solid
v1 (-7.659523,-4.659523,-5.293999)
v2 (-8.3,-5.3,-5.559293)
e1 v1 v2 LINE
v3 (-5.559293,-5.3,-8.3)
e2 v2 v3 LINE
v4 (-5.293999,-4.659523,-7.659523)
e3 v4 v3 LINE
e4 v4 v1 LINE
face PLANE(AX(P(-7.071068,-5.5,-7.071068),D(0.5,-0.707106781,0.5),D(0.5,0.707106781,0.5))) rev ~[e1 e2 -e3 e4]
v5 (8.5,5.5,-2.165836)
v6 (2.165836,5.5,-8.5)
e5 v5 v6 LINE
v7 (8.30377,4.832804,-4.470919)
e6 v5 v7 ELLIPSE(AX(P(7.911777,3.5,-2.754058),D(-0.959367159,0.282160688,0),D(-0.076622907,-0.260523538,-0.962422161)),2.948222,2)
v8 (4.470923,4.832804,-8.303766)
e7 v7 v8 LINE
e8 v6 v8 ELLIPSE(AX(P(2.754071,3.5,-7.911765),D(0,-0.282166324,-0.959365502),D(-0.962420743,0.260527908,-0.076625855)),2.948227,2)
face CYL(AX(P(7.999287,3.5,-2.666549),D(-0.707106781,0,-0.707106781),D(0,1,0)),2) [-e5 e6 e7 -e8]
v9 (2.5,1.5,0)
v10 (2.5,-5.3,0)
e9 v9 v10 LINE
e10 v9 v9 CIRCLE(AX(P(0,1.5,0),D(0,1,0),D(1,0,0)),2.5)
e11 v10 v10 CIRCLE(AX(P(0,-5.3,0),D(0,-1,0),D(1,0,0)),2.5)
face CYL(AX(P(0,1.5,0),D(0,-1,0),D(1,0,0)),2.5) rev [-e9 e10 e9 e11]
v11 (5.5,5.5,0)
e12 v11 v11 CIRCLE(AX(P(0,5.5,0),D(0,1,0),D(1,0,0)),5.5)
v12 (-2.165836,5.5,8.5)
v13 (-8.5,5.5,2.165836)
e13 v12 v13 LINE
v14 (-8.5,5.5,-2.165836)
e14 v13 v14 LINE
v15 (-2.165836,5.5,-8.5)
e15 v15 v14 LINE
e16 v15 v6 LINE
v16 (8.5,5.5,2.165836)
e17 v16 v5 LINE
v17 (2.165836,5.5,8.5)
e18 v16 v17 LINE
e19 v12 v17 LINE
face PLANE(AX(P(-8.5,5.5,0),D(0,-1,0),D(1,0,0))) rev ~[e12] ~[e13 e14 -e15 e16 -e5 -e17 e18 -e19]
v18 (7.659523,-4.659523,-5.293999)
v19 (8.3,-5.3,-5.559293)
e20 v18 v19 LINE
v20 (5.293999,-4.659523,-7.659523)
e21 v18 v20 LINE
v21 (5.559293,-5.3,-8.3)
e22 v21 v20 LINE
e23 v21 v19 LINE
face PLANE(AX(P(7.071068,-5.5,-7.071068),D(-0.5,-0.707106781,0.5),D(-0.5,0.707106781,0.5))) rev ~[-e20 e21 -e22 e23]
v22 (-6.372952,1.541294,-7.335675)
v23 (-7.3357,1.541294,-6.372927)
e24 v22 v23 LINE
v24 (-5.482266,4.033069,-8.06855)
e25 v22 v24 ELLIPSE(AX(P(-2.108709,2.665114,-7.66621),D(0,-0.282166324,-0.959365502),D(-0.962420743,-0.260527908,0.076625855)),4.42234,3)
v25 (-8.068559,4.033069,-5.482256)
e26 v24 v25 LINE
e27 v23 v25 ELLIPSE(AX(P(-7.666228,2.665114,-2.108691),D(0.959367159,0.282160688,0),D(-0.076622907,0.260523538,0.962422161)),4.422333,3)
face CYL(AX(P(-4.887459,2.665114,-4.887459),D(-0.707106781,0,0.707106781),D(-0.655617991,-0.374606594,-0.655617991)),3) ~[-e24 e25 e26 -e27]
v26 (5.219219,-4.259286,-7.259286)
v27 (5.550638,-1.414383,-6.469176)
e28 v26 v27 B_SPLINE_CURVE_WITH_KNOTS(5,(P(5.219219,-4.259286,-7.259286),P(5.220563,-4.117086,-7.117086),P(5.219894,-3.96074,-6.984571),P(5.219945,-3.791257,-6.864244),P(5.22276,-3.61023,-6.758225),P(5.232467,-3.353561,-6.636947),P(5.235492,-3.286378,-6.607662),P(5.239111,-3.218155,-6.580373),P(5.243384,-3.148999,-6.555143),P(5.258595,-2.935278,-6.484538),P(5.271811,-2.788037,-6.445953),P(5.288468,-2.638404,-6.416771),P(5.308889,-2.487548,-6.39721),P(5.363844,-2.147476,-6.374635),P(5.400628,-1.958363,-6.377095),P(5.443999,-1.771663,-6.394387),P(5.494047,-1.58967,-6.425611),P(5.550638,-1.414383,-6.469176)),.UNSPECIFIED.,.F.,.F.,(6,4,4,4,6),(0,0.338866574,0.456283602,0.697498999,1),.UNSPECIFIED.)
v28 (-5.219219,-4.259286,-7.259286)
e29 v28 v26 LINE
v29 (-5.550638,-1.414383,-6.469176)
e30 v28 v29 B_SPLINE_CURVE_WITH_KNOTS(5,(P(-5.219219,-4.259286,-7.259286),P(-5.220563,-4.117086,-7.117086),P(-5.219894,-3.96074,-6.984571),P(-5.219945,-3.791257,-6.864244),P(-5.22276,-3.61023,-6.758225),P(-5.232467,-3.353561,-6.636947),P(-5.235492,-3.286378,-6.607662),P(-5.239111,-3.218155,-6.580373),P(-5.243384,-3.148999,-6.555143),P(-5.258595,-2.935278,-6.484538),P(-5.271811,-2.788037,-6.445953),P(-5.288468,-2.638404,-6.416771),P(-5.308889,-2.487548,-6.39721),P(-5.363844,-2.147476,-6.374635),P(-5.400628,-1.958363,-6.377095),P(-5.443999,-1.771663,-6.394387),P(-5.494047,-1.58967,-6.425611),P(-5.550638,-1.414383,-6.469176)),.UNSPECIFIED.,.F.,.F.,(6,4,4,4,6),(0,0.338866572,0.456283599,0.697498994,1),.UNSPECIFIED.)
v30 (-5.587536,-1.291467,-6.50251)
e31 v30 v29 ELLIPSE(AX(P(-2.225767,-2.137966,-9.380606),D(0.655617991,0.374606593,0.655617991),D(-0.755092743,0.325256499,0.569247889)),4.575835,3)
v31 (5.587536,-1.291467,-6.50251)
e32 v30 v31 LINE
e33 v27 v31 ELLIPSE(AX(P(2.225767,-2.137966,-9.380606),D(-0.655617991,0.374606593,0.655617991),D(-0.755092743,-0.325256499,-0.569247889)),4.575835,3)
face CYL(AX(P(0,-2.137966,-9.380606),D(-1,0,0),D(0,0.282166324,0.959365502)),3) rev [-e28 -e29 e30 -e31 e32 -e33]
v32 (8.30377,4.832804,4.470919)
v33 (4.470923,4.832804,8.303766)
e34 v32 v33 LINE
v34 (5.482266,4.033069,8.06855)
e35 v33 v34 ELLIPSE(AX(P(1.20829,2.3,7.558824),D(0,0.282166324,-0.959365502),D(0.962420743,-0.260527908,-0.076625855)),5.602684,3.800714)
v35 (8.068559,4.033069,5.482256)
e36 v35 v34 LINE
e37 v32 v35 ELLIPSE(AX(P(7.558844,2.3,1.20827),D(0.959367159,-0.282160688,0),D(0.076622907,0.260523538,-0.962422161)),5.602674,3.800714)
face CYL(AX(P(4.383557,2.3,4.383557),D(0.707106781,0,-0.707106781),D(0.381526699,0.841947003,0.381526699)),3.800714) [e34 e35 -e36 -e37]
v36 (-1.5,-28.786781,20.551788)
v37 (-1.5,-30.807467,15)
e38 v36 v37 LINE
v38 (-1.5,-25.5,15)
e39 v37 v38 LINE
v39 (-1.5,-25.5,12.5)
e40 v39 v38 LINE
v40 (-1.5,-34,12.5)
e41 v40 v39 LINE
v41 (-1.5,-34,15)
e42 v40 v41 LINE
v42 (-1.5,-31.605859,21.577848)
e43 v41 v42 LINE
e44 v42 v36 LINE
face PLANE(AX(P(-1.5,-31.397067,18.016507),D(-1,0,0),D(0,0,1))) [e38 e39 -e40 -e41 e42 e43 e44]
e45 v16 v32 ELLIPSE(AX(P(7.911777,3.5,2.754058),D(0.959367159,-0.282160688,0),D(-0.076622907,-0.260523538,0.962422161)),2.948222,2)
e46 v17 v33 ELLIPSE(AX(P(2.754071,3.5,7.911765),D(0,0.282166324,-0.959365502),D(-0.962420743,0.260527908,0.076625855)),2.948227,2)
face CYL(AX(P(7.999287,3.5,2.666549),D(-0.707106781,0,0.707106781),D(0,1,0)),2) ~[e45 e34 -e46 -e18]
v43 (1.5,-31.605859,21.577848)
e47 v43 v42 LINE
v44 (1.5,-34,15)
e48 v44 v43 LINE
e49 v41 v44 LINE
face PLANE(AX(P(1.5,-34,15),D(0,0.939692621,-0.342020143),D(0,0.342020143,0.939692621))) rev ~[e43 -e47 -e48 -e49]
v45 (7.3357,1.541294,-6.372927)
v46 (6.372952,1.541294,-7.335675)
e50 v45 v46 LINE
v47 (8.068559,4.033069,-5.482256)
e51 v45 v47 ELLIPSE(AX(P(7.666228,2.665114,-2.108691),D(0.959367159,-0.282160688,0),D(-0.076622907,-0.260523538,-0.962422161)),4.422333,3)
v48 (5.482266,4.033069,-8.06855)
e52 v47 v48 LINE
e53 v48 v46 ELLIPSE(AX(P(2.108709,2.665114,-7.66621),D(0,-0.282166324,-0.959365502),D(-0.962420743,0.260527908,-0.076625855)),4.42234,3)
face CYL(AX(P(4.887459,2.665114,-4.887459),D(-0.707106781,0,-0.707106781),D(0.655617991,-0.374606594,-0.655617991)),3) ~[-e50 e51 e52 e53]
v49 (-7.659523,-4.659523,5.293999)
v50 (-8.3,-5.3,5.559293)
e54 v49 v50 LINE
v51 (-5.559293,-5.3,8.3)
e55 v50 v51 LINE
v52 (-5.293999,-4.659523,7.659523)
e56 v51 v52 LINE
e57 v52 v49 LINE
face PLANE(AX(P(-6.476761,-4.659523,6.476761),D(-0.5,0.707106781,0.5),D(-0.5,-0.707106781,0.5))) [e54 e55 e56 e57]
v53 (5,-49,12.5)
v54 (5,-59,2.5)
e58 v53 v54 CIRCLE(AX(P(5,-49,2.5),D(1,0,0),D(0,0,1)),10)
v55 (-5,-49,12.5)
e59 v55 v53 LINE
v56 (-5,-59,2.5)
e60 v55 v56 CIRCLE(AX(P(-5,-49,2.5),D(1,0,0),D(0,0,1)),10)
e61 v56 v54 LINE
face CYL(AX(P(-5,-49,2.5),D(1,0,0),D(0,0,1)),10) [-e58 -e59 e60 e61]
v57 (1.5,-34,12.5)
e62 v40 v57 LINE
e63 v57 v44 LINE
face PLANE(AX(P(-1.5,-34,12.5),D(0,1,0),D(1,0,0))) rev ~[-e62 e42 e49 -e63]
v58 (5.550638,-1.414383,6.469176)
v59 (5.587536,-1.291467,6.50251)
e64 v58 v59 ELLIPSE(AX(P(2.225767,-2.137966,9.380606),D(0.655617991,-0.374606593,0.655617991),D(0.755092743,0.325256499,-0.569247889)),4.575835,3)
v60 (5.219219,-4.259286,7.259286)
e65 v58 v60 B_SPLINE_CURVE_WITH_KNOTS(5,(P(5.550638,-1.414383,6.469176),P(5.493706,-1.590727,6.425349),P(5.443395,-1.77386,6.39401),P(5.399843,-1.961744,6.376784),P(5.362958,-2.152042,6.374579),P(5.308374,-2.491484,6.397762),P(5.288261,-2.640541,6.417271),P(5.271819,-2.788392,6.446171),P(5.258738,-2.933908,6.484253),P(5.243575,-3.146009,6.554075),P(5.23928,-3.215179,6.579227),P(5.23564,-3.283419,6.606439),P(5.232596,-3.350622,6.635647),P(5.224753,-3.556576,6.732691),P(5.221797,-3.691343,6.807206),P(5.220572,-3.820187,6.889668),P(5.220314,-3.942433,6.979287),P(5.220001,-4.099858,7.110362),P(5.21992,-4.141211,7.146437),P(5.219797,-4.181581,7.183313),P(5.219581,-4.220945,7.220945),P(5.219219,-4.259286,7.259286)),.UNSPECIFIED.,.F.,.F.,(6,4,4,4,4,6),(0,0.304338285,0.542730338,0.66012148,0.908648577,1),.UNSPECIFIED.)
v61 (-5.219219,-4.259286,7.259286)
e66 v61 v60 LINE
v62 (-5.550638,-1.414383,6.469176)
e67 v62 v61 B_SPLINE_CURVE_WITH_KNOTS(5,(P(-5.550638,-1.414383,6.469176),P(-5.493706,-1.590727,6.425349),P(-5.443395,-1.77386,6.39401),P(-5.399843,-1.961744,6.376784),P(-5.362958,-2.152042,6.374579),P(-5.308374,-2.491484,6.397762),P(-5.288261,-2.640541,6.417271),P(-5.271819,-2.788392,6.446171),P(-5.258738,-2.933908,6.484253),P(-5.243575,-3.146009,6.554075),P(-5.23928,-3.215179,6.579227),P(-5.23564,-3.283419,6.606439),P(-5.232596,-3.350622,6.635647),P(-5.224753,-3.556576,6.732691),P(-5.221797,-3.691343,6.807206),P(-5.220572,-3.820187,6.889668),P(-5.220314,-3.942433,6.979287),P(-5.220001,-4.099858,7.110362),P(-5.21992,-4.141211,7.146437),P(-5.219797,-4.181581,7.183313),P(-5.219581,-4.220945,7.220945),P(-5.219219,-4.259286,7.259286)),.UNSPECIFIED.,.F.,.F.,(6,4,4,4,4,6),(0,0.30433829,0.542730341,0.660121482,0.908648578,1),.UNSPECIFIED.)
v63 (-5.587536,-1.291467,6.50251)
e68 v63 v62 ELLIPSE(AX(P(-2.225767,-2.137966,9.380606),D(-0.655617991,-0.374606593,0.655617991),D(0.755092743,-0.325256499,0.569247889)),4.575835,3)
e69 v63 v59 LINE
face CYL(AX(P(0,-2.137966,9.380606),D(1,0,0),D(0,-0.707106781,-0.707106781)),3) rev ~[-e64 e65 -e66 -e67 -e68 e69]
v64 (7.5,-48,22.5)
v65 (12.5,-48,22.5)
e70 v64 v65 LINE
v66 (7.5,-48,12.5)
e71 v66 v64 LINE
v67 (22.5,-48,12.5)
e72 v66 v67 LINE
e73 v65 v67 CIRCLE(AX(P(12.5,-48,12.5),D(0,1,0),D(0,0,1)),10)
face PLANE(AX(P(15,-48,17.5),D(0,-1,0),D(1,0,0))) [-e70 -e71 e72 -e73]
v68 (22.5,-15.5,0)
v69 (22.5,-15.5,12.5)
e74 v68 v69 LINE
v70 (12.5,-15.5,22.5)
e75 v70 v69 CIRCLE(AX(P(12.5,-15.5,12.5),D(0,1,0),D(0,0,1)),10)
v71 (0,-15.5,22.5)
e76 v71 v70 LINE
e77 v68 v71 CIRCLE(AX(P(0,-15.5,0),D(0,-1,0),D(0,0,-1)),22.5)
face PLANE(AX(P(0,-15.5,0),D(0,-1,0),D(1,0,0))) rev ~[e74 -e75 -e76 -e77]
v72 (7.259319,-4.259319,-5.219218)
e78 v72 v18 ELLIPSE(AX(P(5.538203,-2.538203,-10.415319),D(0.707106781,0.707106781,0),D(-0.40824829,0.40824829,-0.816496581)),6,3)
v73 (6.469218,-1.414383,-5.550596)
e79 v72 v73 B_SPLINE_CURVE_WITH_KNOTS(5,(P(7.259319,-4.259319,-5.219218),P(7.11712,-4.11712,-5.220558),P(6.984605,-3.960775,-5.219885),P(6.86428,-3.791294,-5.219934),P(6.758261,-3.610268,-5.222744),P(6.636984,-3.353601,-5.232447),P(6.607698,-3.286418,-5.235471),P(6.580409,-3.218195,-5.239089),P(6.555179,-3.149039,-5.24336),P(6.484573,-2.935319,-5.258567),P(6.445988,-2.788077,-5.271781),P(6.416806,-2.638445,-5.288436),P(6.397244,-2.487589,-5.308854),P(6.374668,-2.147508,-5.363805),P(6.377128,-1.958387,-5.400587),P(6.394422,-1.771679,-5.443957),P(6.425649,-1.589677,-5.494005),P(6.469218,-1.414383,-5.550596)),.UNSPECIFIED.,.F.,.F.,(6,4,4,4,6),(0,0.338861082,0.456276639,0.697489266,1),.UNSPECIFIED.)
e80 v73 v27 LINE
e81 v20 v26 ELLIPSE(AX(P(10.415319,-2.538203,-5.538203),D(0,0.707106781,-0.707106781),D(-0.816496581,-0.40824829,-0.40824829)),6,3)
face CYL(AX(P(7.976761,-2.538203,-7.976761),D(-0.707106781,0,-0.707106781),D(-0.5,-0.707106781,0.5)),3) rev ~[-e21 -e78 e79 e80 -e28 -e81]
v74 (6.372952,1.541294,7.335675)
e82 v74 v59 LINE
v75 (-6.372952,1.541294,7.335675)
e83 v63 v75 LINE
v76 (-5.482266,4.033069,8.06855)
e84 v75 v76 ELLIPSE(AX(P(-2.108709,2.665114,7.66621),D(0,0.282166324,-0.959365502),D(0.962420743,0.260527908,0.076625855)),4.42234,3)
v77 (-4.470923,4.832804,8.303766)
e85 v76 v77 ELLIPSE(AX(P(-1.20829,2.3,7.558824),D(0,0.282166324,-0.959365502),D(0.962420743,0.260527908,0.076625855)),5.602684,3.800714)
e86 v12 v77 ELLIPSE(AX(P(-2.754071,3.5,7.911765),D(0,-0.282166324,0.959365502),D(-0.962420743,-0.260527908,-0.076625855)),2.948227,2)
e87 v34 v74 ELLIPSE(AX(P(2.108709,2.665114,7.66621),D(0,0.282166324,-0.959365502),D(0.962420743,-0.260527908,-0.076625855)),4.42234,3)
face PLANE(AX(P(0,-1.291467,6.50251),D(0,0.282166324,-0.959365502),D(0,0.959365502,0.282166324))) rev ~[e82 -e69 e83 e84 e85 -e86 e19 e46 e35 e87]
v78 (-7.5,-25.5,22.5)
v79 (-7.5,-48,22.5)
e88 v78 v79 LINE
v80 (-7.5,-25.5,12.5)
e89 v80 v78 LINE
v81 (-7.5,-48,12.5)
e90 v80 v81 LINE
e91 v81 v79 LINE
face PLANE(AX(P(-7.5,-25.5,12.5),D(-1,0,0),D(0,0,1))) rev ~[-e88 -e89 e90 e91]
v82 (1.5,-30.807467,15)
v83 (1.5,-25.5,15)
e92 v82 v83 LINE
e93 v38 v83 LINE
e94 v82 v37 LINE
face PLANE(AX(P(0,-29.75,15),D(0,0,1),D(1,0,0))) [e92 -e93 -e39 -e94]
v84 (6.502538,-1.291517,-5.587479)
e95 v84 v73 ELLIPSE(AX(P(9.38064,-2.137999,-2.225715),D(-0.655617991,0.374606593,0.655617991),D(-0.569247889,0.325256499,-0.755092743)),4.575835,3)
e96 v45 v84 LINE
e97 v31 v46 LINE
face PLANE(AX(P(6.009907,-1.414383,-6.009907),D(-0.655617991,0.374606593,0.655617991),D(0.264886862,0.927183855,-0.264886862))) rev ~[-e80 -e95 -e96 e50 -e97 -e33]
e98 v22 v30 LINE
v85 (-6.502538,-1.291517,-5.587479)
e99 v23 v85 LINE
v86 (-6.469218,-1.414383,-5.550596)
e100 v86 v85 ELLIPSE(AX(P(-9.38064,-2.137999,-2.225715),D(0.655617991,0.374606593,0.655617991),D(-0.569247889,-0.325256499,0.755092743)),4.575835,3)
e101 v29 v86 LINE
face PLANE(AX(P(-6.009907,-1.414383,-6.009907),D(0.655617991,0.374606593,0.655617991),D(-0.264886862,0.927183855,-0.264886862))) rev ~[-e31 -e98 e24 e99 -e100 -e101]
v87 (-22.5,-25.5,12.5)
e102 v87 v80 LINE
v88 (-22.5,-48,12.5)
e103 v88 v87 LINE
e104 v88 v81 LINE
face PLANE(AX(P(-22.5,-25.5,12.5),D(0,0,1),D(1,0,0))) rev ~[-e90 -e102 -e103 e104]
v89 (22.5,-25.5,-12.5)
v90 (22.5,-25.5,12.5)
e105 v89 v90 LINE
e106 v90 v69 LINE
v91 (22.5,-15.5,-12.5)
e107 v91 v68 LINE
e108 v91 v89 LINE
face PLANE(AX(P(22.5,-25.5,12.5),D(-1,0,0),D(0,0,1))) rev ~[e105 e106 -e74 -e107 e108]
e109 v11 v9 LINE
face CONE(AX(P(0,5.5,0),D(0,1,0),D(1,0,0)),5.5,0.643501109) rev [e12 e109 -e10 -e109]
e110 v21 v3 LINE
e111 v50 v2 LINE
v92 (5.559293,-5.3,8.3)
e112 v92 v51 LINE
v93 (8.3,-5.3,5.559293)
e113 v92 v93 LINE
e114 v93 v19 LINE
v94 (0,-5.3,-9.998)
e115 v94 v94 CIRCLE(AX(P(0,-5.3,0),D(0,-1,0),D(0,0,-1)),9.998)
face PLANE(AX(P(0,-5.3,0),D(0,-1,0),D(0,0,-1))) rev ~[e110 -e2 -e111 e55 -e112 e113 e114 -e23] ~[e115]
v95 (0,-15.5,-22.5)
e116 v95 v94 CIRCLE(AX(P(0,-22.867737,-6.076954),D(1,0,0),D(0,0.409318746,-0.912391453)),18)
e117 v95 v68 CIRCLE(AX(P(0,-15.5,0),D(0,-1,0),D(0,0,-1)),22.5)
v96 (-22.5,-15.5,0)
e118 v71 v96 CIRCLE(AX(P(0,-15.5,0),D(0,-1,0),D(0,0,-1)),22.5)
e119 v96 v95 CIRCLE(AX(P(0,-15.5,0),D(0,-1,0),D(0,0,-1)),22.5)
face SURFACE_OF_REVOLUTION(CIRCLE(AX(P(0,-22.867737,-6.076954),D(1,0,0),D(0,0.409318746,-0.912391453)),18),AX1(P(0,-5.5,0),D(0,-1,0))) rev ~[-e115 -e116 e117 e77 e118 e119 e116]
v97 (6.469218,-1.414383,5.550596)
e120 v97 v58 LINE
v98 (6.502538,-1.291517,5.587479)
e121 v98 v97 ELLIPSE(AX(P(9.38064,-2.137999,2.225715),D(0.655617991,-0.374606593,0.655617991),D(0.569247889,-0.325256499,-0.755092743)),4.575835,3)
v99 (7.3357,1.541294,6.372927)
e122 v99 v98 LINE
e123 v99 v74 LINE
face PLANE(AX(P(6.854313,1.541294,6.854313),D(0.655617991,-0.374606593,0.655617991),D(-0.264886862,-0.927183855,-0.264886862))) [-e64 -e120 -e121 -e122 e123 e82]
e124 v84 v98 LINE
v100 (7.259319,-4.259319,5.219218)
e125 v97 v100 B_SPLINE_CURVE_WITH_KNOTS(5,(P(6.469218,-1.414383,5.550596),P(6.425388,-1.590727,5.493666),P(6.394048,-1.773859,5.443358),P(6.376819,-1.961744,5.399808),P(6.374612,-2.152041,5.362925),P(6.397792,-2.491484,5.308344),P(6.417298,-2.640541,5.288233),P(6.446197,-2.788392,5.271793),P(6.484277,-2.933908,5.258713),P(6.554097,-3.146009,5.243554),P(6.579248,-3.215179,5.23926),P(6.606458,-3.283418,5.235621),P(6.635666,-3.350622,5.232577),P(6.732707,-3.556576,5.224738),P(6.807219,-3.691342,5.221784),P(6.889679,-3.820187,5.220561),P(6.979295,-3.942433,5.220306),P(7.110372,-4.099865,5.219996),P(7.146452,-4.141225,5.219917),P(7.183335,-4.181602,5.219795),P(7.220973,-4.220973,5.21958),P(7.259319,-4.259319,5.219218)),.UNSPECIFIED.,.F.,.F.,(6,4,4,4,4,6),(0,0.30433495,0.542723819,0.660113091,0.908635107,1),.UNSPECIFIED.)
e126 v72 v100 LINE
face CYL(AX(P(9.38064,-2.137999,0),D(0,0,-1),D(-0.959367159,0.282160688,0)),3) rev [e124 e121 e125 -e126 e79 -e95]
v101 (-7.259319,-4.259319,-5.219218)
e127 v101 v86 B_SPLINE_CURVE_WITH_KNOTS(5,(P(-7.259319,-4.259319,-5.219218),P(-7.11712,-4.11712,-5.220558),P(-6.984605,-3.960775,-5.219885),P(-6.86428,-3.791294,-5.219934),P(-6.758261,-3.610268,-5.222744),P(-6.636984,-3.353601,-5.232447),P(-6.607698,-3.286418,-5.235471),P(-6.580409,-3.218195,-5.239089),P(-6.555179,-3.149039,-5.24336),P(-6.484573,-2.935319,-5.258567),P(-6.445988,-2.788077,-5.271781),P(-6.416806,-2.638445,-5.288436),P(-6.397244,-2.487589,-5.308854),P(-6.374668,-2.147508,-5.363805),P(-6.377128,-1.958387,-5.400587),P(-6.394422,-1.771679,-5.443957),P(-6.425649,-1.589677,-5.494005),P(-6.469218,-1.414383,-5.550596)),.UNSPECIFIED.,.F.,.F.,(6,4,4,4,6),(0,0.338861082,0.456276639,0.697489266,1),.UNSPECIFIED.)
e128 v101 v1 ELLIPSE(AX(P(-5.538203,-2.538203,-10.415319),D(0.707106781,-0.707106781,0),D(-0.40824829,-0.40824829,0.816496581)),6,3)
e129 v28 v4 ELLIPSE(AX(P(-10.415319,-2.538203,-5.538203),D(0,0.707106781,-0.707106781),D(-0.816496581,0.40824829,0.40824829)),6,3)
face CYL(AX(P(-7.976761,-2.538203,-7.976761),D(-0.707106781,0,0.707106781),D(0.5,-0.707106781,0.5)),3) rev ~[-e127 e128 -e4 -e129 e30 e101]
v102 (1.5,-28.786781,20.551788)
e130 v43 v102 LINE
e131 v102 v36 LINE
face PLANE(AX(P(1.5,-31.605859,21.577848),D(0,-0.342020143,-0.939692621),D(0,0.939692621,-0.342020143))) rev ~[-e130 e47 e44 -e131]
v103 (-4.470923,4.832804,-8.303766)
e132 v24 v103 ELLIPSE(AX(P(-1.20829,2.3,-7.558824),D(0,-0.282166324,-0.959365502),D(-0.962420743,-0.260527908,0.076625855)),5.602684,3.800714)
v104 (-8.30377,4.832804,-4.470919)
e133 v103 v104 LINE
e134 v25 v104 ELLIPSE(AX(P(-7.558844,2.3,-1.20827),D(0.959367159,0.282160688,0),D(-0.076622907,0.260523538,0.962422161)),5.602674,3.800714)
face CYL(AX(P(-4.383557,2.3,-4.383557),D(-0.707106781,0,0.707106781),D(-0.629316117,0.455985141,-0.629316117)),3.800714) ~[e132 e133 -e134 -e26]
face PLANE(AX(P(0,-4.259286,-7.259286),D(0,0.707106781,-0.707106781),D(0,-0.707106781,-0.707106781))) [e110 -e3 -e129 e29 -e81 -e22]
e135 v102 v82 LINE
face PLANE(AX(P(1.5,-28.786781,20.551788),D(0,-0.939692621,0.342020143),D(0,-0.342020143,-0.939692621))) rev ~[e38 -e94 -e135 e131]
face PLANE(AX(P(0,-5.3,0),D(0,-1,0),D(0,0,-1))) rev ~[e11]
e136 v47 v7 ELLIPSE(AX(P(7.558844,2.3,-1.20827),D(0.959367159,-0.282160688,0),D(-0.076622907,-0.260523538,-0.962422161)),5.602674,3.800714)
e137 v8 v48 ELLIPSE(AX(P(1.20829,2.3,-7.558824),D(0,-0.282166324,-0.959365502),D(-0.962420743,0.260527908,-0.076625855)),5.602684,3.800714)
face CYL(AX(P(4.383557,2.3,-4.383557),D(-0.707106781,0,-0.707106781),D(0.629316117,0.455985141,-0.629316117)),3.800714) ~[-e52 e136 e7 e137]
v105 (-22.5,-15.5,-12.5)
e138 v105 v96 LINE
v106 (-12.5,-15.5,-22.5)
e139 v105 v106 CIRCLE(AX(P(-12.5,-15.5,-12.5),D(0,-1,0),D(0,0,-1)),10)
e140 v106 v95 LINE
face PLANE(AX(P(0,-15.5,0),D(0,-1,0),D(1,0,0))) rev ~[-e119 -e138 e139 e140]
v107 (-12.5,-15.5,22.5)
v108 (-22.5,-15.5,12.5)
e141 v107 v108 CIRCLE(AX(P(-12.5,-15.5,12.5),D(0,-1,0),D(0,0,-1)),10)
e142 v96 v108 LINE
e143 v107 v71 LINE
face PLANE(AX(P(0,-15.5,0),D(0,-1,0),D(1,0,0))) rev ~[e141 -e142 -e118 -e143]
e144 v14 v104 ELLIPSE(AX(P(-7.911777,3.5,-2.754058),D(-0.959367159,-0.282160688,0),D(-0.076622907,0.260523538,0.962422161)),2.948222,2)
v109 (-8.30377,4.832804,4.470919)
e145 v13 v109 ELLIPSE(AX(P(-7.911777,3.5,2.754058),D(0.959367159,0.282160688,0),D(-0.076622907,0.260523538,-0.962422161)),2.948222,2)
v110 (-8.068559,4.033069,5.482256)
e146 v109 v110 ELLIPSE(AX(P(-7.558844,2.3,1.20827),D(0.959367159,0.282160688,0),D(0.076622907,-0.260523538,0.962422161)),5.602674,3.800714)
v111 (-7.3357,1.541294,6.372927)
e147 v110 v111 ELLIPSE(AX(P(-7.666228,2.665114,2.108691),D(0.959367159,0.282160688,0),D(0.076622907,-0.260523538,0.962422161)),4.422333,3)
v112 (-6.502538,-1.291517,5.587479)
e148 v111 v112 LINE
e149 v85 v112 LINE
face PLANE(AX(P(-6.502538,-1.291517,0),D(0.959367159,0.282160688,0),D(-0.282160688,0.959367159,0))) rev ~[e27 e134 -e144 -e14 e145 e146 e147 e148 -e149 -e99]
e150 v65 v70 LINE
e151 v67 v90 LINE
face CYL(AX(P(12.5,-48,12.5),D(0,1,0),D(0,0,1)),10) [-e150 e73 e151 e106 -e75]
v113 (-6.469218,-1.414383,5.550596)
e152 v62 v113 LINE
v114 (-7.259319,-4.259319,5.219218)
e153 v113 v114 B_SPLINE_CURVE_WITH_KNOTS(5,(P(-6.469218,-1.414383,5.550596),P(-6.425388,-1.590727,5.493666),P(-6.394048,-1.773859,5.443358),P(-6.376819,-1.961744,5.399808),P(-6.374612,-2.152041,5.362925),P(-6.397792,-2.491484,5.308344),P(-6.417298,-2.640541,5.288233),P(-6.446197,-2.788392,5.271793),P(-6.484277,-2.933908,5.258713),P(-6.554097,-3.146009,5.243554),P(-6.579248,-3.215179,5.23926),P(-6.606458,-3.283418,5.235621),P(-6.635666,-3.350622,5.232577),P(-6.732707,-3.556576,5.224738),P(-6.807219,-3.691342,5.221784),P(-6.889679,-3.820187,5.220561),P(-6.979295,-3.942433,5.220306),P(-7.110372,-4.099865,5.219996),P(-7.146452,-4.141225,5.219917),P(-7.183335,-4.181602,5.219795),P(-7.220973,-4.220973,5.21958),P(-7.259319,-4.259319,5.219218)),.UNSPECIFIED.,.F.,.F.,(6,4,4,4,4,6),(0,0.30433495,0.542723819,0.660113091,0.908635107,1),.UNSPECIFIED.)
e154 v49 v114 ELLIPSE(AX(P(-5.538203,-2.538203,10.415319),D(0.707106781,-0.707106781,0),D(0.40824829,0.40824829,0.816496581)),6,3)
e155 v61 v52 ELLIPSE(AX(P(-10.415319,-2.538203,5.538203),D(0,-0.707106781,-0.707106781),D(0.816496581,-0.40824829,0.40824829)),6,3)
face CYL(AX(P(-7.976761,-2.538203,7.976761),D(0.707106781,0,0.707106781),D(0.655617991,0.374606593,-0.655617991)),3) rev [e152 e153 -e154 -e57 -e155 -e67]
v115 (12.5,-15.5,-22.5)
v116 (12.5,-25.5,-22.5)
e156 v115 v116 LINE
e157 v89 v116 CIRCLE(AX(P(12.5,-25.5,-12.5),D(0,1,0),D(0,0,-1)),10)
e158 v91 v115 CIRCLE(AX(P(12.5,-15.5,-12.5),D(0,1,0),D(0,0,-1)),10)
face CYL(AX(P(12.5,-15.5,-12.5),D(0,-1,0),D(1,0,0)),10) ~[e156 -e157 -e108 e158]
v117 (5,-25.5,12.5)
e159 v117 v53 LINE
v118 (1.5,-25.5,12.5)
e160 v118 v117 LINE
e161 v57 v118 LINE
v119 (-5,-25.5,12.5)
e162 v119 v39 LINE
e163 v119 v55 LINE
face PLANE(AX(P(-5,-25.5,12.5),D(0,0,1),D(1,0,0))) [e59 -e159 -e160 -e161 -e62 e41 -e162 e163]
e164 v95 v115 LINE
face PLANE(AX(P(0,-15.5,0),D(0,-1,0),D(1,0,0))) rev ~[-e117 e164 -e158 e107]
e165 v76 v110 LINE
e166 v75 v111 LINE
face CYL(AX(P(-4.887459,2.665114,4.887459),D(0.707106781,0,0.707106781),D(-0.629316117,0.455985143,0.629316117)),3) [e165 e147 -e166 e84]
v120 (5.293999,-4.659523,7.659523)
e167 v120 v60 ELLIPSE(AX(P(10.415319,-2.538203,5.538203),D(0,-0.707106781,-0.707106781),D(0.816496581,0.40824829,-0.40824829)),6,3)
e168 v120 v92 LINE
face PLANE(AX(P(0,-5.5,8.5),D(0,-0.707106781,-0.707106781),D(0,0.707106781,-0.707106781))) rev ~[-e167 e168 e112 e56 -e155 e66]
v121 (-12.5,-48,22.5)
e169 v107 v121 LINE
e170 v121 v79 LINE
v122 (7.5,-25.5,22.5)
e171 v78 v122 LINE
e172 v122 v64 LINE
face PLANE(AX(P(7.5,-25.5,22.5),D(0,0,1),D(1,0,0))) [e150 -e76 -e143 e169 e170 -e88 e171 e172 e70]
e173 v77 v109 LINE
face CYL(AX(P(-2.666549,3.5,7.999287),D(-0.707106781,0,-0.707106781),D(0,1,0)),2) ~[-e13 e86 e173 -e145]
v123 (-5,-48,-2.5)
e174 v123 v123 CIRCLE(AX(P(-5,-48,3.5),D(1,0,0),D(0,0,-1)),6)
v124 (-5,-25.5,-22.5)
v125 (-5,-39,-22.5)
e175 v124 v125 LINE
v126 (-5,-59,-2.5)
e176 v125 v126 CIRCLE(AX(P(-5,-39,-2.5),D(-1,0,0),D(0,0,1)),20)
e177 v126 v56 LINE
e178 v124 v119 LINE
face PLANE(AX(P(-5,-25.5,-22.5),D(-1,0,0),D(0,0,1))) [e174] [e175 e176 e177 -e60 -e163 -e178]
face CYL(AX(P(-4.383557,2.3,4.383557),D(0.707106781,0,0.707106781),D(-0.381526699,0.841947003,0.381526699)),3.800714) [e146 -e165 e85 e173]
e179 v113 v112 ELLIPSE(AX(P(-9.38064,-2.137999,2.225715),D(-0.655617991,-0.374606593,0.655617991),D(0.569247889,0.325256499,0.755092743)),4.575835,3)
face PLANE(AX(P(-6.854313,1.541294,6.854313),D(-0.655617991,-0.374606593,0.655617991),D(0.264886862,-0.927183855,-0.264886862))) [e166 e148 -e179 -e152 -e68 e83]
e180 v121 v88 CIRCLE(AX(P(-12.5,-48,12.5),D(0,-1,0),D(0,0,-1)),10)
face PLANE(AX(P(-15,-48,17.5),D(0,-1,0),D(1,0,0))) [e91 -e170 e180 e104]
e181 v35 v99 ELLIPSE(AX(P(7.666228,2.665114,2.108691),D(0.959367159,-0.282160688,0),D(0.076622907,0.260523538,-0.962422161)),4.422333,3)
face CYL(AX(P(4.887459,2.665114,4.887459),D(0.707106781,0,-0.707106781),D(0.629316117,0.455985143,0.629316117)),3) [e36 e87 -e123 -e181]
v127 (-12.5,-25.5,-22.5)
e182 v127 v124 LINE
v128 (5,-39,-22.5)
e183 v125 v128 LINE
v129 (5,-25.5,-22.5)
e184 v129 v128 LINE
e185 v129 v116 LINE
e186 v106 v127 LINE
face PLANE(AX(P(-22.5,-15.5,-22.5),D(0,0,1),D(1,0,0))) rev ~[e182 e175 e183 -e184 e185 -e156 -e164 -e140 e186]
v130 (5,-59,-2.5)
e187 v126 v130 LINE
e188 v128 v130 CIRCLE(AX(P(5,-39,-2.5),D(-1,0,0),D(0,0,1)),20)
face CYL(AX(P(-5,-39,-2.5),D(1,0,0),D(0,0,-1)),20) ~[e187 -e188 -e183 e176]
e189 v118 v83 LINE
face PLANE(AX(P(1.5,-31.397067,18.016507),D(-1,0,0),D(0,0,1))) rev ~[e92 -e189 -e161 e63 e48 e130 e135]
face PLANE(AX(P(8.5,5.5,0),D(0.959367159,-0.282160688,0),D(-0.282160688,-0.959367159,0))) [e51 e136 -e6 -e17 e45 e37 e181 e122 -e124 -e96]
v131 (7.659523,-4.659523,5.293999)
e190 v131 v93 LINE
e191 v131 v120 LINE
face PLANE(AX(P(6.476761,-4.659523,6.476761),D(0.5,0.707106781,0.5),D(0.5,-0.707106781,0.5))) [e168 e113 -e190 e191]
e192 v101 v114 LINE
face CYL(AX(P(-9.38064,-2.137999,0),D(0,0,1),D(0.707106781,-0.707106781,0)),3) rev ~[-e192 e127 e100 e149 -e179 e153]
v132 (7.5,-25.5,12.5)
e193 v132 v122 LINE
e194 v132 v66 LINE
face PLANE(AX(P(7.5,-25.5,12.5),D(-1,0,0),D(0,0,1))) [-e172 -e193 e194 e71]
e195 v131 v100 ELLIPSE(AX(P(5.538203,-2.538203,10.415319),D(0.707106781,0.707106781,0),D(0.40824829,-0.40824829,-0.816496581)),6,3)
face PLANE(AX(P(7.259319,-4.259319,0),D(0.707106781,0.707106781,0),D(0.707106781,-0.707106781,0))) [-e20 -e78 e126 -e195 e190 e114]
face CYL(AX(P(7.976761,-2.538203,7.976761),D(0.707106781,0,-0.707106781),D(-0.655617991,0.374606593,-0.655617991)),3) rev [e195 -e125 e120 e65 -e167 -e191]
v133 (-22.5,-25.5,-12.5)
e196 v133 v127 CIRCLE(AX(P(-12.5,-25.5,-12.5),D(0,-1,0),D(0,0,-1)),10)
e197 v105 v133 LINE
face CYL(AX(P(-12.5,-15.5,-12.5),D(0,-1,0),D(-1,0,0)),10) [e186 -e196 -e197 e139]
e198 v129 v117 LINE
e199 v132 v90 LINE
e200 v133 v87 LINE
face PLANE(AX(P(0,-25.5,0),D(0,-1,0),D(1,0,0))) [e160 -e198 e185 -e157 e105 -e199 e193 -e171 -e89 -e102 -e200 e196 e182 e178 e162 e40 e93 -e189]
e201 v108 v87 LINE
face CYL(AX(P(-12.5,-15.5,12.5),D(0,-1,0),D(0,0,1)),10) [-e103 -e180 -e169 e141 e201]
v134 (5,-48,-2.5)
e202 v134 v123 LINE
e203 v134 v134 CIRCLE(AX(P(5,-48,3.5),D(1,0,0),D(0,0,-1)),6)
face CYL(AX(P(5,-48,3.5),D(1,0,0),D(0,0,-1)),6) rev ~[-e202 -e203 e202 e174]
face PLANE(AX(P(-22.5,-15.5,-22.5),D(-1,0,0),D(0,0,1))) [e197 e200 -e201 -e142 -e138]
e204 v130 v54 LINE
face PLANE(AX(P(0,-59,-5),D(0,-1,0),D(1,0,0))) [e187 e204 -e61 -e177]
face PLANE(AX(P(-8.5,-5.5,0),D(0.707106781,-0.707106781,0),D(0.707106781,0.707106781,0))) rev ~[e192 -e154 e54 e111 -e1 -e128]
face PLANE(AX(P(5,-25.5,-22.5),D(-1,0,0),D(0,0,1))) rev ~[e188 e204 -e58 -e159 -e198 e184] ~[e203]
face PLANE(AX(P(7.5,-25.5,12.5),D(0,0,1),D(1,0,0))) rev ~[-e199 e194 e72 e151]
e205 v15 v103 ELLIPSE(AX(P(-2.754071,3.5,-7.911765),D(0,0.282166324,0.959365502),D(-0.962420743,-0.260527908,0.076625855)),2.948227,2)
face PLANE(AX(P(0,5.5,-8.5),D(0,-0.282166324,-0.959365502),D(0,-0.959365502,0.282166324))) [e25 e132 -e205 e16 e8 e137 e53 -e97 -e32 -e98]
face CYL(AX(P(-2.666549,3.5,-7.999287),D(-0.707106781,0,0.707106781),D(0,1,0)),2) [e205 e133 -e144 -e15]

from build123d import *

# Parameters (mm, degrees)
SKETCH4_W           = 17
SKETCH4_H           = 11
BOSS_EXTRUDE2_DEPTH = 8.5
CUT_EXTRUDE1_DEPTH  = 13.5
CUT_EXTRUDE2_DEPTH  = 13.5
CUT_EXTRUDE3_DEPTH  = 13.5
CUT_EXTRUDE4_DEPTH  = 13.5
FILLET1_R           = 2
SKETCH16_W          = 45
SKETCH16_H          = 45
BOSS_EXTRUDE3_DEPTH = 10
SKETCH17_W          = 10
SKETCH17_H          = 35
BOSS_EXTRUDE4_DEPTH = 33.5
SKETCH18_W          = 15
SKETCH18_H          = 10
BOSS_EXTRUDE5_DEPTH = 22.5
SKETCH19_R          = 6
CUT_EXTRUDE5_DEPTH  = 28.5000001
FILLET3_R           = 10
FILLET4_R           = 20
SKETCH20_W          = 3
SKETCH20_H          = 8.5
BOSS_EXTRUDE6_DEPTH = 2.5
BOSS_EXTRUDE7_DEPTH = 3


with BuildPart() as part:
    # Sketch4 → Boss-Extrude2 (new body, symmetric)
    with BuildSketch(Plane.XY):
        Rectangle(SKETCH4_W, SKETCH4_H)
    extrude(amount=BOSS_EXTRUDE2_DEPTH, both=True)

    # Sketch5 → Cut-Extrude1 (cut, symmetric)
    with BuildSketch(Plane(origin=(0, 0, 0), x_dir=(0, 0, -1), z_dir=(1, 0, 0))):
        with BuildLine():
            Line((8.5, 5.5), (6.502509808, -1.291466653))
            ThreePointArc((6.502509808, -1.291466653), (6.473626767, -2.879228009), (7.259285969, -4.259285969))
            Line((7.259285969, -4.259285969), (8.5, -5.5))
            Line((8.5, -5.5), (8.5, 5.5))
        make_face()
        with BuildLine():
            Line((-8.5, -5.5), (-7.259285969, -4.259285969))
            ThreePointArc((-7.259285969, -4.259285969), (-6.473626767, -2.879228009), (-6.502509808, -1.291466653))
            Line((-6.502509808, -1.291466653), (-8.5, 5.5))
            Line((-8.5, 5.5), (-8.5, -5.5))
        make_face()
    extrude(amount=CUT_EXTRUDE1_DEPTH, both=True, mode=Mode.SUBTRACT)

    # Sketch7 → Cut-Extrude2 (cut, symmetric)
    with BuildSketch(Plane.XY):
        with BuildLine():
            Line((8.5, 5.5), (6.502538332, -1.291517059))
            ThreePointArc((6.502538332, -1.291517059), (6.473662442, -2.879270046), (7.259319467, -4.259319467))
            Line((7.259319467, -4.259319467), (8.5, -5.5))
            Line((8.5, -5.5), (8.5, 5.5))
        make_face()
        with BuildLine():
            Line((-8.5, -5.5), (-7.259319467, -4.259319467))
            ThreePointArc((-7.259319467, -4.259319467), (-6.473662442, -2.879270046), (-6.502538332, -1.291517059))
            Line((-6.502538332, -1.291517059), (-8.5, 5.5))
            Line((-8.5, 5.5), (-8.5, -5.5))
        make_face()
    extrude(amount=CUT_EXTRUDE2_DEPTH, both=True, mode=Mode.SUBTRACT)

    # Sketch11 → Cut-Extrude3 (cut, symmetric)
    with BuildSketch(Plane(origin=(0, 0, 0), x_dir=(0.707106781, 0, -0.707106781), z_dir=(0.707106781, 0, 0.707106781))):
        with BuildLine():
            Line((10, -5.5), (9.159523089, -4.659523089))
            ThreePointArc((9.159523089, -4.659523089), (8.341069319, -3.136306549), (8.499291869, -1.414382965))
            Line((8.499291869, -1.414382965), (9.693462893, 1.541294037))
            ThreePointArc((9.693462893, 1.541294037), (9.908907559, 2.799328578), (9.581873492, 4.033069244))
            ThreePointArc((9.581873492, 4.033069244), (9.013209006, 4.854851227), (8.25, 5.5))
            Line((8.25, 5.5), (14, 5.5))
            Line((14, 5.5), (14, -5.5))
            Line((14, -5.5), (10, -5.5))
        make_face()
        with BuildLine():
            Line((-14, 5.5), (-8.25, 5.5))
            ThreePointArc((-8.25, 5.5), (-9.013209006, 4.854851227), (-9.581873492, 4.033069244))
            ThreePointArc((-9.581873492, 4.033069244), (-9.908907559, 2.799328578), (-9.693462893, 1.541294037))
            Line((-9.693462893, 1.541294037), (-8.499291869, -1.414382965))
            ThreePointArc((-8.499291869, -1.414382965), (-8.341069319, -3.136306549), (-9.159523089, -4.659523089))
            Line((-9.159523089, -4.659523089), (-10, -5.5))
            Line((-10, -5.5), (-14, -5.5))
            Line((-14, -5.5), (-14, 5.5))
        make_face()
    extrude(amount=CUT_EXTRUDE3_DEPTH, both=True, mode=Mode.SUBTRACT)

    # Sketch12 → Cut-Extrude4 (cut, symmetric)
    with BuildSketch(Plane(origin=(0, 0, 0), x_dir=(-0.707106781, 0, -0.707106781), z_dir=(0.707106781, 0, -0.707106781))):
        with BuildLine():
            Line((10, -5.5), (9.159523089, -4.659523089))
            ThreePointArc((9.159523089, -4.659523089), (8.341069319, -3.136306549), (8.499291869, -1.414382965))
            Line((8.499291869, -1.414382965), (9.693462893, 1.541294037))
            ThreePointArc((9.693462893, 1.541294037), (9.908907559, 2.799328578), (9.581873492, 4.033069244))
            ThreePointArc((9.581873492, 4.033069244), (9.013209006, 4.854851227), (8.25, 5.5))
            Line((8.25, 5.5), (14, 5.5))
            Line((14, 5.5), (14, -5.5))
            Line((14, -5.5), (10, -5.5))
        make_face()
        with BuildLine():
            Line((-14, 5.5), (-8.25, 5.5))
            ThreePointArc((-8.25, 5.5), (-9.013209006, 4.854851227), (-9.581873492, 4.033069244))
            ThreePointArc((-9.581873492, 4.033069244), (-9.908907559, 2.799328578), (-9.693462893, 1.541294037))
            Line((-9.693462893, 1.541294037), (-8.499291869, -1.414382965))
            ThreePointArc((-8.499291869, -1.414382965), (-8.341069319, -3.136306549), (-9.159523089, -4.659523089))
            Line((-9.159523089, -4.659523089), (-10, -5.5))
            Line((-10, -5.5), (-14, -5.5))
            Line((-14, -5.5), (-14, 5.5))
        make_face()
    extrude(amount=CUT_EXTRUDE4_DEPTH, both=True, mode=Mode.SUBTRACT)

    # Sketch14 → Cut-Revolve1 (revolve, cut)
    with BuildSketch(Plane.XY):
        Polygon((0, 5.5), (5.5, 5.5), (2.5, 1.5), (2.5, -5.5), (0, -5.5), align=None)
    revolve(axis=Axis((0, -5.5, 0), (0, 1, 0)), mode=Mode.SUBTRACT)

    # Fillet1
    fillet1_edges = [part.edges().sort_by_distance(p)[0] for p in [
        (5.833630945, 5.5, -5.833630945),
        (-5.833630945, 5.5, -5.833630945),
        (-5.833630945, 5.5, 5.833630945),
        (5.833630945, 5.5, 5.833630945),
    ]]
    fillet(fillet1_edges, radius=FILLET1_R)

    # Sketch15 → Revolve1 (revolve)
    with BuildSketch(Plane(origin=(0, 0, 0), x_dir=(0, 0, -1), z_dir=(1, 0, 0))):
        with BuildLine():
            Line((0, -15.5), (22.5, -15.5))
            ThreePointArc((22.5, -15.5), (17.455904629, -8.920713416), (9.9979998, -5.3))
            Line((9.9979998, -5.3), (0, -5.3))
            Line((0, -5.3), (0, -5.5))
            Line((0, -5.5), (0, -15.5))
        make_face()
    revolve(axis=Axis((0, -5.5, 0), (0, -1, 0)))

    # Sketch16 → Boss-Extrude3 (add)
    with BuildSketch(Plane.XZ.offset(15.5)):
        Rectangle(SKETCH16_W, SKETCH16_H)
    extrude(amount=BOSS_EXTRUDE3_DEPTH)

    # Sketch17 → Boss-Extrude4 (add)
    with BuildSketch(Plane.XZ.offset(25.5)):
        with Locations((0, -5)):
            Rectangle(SKETCH17_W, SKETCH17_H)
    extrude(amount=BOSS_EXTRUDE4_DEPTH)

    # Sketch18 → Boss-Extrude5 (add)
    with BuildSketch(Plane.XZ.offset(25.5)):
        with Locations((15, 17.5)):
            Rectangle(SKETCH18_W, SKETCH18_H)
        with Locations((-15, 17.5)):
            Rectangle(SKETCH18_W, SKETCH18_H)
    extrude(amount=BOSS_EXTRUDE5_DEPTH)

    # Sketch19 → Cut-Extrude5 (cut, through all)
    with BuildSketch(Plane(origin=(5, 0, 0), x_dir=(0, 0, -1), z_dir=(1, 0, 0))):
        with Locations((-3.5, -48)):
            Circle(SKETCH19_R)
    extrude(amount=-CUT_EXTRUDE5_DEPTH, mode=Mode.SUBTRACT)

    # Fillet3
    fillet3_edges = [part.edges().sort_by_distance(p)[0] for p in [
        (-22.5, -31.75, 22.5),
        (22.5, -31.75, 22.5),
        (-22.5, -20.5, -22.5),
        (22.5, -20.5, -22.5),
        (0, -59, 12.5),
    ]]
    fillet(fillet3_edges, radius=FILLET3_R)

    # Fillet4
    fillet4_edges = [part.edges().sort_by_distance(p)[0] for p in [
        (0, -59, -22.5),
    ]]
    fillet(fillet4_edges, radius=FILLET4_R)

    # Sketch20 → Boss-Extrude6 (add)
    with BuildSketch(Plane.XY.offset(12.5)):
        with Locations((0, -29.75)):
            Rectangle(SKETCH20_W, SKETCH20_H)
    extrude(amount=BOSS_EXTRUDE6_DEPTH)

    # Sketch21 → Boss-Extrude7 (add)
    with BuildSketch(Plane(origin=(1.5, 0, 0), x_dir=(0, 0, -1), z_dir=(1, 0, 0))):
        Polygon((-15, -30.807466683), (-15, -34), (-21.577848346, -31.605858997), (-20.551787916, -28.786781134), align=None)
    extrude(amount=-BOSS_EXTRUDE7_DEPTH)


solid = part.part
